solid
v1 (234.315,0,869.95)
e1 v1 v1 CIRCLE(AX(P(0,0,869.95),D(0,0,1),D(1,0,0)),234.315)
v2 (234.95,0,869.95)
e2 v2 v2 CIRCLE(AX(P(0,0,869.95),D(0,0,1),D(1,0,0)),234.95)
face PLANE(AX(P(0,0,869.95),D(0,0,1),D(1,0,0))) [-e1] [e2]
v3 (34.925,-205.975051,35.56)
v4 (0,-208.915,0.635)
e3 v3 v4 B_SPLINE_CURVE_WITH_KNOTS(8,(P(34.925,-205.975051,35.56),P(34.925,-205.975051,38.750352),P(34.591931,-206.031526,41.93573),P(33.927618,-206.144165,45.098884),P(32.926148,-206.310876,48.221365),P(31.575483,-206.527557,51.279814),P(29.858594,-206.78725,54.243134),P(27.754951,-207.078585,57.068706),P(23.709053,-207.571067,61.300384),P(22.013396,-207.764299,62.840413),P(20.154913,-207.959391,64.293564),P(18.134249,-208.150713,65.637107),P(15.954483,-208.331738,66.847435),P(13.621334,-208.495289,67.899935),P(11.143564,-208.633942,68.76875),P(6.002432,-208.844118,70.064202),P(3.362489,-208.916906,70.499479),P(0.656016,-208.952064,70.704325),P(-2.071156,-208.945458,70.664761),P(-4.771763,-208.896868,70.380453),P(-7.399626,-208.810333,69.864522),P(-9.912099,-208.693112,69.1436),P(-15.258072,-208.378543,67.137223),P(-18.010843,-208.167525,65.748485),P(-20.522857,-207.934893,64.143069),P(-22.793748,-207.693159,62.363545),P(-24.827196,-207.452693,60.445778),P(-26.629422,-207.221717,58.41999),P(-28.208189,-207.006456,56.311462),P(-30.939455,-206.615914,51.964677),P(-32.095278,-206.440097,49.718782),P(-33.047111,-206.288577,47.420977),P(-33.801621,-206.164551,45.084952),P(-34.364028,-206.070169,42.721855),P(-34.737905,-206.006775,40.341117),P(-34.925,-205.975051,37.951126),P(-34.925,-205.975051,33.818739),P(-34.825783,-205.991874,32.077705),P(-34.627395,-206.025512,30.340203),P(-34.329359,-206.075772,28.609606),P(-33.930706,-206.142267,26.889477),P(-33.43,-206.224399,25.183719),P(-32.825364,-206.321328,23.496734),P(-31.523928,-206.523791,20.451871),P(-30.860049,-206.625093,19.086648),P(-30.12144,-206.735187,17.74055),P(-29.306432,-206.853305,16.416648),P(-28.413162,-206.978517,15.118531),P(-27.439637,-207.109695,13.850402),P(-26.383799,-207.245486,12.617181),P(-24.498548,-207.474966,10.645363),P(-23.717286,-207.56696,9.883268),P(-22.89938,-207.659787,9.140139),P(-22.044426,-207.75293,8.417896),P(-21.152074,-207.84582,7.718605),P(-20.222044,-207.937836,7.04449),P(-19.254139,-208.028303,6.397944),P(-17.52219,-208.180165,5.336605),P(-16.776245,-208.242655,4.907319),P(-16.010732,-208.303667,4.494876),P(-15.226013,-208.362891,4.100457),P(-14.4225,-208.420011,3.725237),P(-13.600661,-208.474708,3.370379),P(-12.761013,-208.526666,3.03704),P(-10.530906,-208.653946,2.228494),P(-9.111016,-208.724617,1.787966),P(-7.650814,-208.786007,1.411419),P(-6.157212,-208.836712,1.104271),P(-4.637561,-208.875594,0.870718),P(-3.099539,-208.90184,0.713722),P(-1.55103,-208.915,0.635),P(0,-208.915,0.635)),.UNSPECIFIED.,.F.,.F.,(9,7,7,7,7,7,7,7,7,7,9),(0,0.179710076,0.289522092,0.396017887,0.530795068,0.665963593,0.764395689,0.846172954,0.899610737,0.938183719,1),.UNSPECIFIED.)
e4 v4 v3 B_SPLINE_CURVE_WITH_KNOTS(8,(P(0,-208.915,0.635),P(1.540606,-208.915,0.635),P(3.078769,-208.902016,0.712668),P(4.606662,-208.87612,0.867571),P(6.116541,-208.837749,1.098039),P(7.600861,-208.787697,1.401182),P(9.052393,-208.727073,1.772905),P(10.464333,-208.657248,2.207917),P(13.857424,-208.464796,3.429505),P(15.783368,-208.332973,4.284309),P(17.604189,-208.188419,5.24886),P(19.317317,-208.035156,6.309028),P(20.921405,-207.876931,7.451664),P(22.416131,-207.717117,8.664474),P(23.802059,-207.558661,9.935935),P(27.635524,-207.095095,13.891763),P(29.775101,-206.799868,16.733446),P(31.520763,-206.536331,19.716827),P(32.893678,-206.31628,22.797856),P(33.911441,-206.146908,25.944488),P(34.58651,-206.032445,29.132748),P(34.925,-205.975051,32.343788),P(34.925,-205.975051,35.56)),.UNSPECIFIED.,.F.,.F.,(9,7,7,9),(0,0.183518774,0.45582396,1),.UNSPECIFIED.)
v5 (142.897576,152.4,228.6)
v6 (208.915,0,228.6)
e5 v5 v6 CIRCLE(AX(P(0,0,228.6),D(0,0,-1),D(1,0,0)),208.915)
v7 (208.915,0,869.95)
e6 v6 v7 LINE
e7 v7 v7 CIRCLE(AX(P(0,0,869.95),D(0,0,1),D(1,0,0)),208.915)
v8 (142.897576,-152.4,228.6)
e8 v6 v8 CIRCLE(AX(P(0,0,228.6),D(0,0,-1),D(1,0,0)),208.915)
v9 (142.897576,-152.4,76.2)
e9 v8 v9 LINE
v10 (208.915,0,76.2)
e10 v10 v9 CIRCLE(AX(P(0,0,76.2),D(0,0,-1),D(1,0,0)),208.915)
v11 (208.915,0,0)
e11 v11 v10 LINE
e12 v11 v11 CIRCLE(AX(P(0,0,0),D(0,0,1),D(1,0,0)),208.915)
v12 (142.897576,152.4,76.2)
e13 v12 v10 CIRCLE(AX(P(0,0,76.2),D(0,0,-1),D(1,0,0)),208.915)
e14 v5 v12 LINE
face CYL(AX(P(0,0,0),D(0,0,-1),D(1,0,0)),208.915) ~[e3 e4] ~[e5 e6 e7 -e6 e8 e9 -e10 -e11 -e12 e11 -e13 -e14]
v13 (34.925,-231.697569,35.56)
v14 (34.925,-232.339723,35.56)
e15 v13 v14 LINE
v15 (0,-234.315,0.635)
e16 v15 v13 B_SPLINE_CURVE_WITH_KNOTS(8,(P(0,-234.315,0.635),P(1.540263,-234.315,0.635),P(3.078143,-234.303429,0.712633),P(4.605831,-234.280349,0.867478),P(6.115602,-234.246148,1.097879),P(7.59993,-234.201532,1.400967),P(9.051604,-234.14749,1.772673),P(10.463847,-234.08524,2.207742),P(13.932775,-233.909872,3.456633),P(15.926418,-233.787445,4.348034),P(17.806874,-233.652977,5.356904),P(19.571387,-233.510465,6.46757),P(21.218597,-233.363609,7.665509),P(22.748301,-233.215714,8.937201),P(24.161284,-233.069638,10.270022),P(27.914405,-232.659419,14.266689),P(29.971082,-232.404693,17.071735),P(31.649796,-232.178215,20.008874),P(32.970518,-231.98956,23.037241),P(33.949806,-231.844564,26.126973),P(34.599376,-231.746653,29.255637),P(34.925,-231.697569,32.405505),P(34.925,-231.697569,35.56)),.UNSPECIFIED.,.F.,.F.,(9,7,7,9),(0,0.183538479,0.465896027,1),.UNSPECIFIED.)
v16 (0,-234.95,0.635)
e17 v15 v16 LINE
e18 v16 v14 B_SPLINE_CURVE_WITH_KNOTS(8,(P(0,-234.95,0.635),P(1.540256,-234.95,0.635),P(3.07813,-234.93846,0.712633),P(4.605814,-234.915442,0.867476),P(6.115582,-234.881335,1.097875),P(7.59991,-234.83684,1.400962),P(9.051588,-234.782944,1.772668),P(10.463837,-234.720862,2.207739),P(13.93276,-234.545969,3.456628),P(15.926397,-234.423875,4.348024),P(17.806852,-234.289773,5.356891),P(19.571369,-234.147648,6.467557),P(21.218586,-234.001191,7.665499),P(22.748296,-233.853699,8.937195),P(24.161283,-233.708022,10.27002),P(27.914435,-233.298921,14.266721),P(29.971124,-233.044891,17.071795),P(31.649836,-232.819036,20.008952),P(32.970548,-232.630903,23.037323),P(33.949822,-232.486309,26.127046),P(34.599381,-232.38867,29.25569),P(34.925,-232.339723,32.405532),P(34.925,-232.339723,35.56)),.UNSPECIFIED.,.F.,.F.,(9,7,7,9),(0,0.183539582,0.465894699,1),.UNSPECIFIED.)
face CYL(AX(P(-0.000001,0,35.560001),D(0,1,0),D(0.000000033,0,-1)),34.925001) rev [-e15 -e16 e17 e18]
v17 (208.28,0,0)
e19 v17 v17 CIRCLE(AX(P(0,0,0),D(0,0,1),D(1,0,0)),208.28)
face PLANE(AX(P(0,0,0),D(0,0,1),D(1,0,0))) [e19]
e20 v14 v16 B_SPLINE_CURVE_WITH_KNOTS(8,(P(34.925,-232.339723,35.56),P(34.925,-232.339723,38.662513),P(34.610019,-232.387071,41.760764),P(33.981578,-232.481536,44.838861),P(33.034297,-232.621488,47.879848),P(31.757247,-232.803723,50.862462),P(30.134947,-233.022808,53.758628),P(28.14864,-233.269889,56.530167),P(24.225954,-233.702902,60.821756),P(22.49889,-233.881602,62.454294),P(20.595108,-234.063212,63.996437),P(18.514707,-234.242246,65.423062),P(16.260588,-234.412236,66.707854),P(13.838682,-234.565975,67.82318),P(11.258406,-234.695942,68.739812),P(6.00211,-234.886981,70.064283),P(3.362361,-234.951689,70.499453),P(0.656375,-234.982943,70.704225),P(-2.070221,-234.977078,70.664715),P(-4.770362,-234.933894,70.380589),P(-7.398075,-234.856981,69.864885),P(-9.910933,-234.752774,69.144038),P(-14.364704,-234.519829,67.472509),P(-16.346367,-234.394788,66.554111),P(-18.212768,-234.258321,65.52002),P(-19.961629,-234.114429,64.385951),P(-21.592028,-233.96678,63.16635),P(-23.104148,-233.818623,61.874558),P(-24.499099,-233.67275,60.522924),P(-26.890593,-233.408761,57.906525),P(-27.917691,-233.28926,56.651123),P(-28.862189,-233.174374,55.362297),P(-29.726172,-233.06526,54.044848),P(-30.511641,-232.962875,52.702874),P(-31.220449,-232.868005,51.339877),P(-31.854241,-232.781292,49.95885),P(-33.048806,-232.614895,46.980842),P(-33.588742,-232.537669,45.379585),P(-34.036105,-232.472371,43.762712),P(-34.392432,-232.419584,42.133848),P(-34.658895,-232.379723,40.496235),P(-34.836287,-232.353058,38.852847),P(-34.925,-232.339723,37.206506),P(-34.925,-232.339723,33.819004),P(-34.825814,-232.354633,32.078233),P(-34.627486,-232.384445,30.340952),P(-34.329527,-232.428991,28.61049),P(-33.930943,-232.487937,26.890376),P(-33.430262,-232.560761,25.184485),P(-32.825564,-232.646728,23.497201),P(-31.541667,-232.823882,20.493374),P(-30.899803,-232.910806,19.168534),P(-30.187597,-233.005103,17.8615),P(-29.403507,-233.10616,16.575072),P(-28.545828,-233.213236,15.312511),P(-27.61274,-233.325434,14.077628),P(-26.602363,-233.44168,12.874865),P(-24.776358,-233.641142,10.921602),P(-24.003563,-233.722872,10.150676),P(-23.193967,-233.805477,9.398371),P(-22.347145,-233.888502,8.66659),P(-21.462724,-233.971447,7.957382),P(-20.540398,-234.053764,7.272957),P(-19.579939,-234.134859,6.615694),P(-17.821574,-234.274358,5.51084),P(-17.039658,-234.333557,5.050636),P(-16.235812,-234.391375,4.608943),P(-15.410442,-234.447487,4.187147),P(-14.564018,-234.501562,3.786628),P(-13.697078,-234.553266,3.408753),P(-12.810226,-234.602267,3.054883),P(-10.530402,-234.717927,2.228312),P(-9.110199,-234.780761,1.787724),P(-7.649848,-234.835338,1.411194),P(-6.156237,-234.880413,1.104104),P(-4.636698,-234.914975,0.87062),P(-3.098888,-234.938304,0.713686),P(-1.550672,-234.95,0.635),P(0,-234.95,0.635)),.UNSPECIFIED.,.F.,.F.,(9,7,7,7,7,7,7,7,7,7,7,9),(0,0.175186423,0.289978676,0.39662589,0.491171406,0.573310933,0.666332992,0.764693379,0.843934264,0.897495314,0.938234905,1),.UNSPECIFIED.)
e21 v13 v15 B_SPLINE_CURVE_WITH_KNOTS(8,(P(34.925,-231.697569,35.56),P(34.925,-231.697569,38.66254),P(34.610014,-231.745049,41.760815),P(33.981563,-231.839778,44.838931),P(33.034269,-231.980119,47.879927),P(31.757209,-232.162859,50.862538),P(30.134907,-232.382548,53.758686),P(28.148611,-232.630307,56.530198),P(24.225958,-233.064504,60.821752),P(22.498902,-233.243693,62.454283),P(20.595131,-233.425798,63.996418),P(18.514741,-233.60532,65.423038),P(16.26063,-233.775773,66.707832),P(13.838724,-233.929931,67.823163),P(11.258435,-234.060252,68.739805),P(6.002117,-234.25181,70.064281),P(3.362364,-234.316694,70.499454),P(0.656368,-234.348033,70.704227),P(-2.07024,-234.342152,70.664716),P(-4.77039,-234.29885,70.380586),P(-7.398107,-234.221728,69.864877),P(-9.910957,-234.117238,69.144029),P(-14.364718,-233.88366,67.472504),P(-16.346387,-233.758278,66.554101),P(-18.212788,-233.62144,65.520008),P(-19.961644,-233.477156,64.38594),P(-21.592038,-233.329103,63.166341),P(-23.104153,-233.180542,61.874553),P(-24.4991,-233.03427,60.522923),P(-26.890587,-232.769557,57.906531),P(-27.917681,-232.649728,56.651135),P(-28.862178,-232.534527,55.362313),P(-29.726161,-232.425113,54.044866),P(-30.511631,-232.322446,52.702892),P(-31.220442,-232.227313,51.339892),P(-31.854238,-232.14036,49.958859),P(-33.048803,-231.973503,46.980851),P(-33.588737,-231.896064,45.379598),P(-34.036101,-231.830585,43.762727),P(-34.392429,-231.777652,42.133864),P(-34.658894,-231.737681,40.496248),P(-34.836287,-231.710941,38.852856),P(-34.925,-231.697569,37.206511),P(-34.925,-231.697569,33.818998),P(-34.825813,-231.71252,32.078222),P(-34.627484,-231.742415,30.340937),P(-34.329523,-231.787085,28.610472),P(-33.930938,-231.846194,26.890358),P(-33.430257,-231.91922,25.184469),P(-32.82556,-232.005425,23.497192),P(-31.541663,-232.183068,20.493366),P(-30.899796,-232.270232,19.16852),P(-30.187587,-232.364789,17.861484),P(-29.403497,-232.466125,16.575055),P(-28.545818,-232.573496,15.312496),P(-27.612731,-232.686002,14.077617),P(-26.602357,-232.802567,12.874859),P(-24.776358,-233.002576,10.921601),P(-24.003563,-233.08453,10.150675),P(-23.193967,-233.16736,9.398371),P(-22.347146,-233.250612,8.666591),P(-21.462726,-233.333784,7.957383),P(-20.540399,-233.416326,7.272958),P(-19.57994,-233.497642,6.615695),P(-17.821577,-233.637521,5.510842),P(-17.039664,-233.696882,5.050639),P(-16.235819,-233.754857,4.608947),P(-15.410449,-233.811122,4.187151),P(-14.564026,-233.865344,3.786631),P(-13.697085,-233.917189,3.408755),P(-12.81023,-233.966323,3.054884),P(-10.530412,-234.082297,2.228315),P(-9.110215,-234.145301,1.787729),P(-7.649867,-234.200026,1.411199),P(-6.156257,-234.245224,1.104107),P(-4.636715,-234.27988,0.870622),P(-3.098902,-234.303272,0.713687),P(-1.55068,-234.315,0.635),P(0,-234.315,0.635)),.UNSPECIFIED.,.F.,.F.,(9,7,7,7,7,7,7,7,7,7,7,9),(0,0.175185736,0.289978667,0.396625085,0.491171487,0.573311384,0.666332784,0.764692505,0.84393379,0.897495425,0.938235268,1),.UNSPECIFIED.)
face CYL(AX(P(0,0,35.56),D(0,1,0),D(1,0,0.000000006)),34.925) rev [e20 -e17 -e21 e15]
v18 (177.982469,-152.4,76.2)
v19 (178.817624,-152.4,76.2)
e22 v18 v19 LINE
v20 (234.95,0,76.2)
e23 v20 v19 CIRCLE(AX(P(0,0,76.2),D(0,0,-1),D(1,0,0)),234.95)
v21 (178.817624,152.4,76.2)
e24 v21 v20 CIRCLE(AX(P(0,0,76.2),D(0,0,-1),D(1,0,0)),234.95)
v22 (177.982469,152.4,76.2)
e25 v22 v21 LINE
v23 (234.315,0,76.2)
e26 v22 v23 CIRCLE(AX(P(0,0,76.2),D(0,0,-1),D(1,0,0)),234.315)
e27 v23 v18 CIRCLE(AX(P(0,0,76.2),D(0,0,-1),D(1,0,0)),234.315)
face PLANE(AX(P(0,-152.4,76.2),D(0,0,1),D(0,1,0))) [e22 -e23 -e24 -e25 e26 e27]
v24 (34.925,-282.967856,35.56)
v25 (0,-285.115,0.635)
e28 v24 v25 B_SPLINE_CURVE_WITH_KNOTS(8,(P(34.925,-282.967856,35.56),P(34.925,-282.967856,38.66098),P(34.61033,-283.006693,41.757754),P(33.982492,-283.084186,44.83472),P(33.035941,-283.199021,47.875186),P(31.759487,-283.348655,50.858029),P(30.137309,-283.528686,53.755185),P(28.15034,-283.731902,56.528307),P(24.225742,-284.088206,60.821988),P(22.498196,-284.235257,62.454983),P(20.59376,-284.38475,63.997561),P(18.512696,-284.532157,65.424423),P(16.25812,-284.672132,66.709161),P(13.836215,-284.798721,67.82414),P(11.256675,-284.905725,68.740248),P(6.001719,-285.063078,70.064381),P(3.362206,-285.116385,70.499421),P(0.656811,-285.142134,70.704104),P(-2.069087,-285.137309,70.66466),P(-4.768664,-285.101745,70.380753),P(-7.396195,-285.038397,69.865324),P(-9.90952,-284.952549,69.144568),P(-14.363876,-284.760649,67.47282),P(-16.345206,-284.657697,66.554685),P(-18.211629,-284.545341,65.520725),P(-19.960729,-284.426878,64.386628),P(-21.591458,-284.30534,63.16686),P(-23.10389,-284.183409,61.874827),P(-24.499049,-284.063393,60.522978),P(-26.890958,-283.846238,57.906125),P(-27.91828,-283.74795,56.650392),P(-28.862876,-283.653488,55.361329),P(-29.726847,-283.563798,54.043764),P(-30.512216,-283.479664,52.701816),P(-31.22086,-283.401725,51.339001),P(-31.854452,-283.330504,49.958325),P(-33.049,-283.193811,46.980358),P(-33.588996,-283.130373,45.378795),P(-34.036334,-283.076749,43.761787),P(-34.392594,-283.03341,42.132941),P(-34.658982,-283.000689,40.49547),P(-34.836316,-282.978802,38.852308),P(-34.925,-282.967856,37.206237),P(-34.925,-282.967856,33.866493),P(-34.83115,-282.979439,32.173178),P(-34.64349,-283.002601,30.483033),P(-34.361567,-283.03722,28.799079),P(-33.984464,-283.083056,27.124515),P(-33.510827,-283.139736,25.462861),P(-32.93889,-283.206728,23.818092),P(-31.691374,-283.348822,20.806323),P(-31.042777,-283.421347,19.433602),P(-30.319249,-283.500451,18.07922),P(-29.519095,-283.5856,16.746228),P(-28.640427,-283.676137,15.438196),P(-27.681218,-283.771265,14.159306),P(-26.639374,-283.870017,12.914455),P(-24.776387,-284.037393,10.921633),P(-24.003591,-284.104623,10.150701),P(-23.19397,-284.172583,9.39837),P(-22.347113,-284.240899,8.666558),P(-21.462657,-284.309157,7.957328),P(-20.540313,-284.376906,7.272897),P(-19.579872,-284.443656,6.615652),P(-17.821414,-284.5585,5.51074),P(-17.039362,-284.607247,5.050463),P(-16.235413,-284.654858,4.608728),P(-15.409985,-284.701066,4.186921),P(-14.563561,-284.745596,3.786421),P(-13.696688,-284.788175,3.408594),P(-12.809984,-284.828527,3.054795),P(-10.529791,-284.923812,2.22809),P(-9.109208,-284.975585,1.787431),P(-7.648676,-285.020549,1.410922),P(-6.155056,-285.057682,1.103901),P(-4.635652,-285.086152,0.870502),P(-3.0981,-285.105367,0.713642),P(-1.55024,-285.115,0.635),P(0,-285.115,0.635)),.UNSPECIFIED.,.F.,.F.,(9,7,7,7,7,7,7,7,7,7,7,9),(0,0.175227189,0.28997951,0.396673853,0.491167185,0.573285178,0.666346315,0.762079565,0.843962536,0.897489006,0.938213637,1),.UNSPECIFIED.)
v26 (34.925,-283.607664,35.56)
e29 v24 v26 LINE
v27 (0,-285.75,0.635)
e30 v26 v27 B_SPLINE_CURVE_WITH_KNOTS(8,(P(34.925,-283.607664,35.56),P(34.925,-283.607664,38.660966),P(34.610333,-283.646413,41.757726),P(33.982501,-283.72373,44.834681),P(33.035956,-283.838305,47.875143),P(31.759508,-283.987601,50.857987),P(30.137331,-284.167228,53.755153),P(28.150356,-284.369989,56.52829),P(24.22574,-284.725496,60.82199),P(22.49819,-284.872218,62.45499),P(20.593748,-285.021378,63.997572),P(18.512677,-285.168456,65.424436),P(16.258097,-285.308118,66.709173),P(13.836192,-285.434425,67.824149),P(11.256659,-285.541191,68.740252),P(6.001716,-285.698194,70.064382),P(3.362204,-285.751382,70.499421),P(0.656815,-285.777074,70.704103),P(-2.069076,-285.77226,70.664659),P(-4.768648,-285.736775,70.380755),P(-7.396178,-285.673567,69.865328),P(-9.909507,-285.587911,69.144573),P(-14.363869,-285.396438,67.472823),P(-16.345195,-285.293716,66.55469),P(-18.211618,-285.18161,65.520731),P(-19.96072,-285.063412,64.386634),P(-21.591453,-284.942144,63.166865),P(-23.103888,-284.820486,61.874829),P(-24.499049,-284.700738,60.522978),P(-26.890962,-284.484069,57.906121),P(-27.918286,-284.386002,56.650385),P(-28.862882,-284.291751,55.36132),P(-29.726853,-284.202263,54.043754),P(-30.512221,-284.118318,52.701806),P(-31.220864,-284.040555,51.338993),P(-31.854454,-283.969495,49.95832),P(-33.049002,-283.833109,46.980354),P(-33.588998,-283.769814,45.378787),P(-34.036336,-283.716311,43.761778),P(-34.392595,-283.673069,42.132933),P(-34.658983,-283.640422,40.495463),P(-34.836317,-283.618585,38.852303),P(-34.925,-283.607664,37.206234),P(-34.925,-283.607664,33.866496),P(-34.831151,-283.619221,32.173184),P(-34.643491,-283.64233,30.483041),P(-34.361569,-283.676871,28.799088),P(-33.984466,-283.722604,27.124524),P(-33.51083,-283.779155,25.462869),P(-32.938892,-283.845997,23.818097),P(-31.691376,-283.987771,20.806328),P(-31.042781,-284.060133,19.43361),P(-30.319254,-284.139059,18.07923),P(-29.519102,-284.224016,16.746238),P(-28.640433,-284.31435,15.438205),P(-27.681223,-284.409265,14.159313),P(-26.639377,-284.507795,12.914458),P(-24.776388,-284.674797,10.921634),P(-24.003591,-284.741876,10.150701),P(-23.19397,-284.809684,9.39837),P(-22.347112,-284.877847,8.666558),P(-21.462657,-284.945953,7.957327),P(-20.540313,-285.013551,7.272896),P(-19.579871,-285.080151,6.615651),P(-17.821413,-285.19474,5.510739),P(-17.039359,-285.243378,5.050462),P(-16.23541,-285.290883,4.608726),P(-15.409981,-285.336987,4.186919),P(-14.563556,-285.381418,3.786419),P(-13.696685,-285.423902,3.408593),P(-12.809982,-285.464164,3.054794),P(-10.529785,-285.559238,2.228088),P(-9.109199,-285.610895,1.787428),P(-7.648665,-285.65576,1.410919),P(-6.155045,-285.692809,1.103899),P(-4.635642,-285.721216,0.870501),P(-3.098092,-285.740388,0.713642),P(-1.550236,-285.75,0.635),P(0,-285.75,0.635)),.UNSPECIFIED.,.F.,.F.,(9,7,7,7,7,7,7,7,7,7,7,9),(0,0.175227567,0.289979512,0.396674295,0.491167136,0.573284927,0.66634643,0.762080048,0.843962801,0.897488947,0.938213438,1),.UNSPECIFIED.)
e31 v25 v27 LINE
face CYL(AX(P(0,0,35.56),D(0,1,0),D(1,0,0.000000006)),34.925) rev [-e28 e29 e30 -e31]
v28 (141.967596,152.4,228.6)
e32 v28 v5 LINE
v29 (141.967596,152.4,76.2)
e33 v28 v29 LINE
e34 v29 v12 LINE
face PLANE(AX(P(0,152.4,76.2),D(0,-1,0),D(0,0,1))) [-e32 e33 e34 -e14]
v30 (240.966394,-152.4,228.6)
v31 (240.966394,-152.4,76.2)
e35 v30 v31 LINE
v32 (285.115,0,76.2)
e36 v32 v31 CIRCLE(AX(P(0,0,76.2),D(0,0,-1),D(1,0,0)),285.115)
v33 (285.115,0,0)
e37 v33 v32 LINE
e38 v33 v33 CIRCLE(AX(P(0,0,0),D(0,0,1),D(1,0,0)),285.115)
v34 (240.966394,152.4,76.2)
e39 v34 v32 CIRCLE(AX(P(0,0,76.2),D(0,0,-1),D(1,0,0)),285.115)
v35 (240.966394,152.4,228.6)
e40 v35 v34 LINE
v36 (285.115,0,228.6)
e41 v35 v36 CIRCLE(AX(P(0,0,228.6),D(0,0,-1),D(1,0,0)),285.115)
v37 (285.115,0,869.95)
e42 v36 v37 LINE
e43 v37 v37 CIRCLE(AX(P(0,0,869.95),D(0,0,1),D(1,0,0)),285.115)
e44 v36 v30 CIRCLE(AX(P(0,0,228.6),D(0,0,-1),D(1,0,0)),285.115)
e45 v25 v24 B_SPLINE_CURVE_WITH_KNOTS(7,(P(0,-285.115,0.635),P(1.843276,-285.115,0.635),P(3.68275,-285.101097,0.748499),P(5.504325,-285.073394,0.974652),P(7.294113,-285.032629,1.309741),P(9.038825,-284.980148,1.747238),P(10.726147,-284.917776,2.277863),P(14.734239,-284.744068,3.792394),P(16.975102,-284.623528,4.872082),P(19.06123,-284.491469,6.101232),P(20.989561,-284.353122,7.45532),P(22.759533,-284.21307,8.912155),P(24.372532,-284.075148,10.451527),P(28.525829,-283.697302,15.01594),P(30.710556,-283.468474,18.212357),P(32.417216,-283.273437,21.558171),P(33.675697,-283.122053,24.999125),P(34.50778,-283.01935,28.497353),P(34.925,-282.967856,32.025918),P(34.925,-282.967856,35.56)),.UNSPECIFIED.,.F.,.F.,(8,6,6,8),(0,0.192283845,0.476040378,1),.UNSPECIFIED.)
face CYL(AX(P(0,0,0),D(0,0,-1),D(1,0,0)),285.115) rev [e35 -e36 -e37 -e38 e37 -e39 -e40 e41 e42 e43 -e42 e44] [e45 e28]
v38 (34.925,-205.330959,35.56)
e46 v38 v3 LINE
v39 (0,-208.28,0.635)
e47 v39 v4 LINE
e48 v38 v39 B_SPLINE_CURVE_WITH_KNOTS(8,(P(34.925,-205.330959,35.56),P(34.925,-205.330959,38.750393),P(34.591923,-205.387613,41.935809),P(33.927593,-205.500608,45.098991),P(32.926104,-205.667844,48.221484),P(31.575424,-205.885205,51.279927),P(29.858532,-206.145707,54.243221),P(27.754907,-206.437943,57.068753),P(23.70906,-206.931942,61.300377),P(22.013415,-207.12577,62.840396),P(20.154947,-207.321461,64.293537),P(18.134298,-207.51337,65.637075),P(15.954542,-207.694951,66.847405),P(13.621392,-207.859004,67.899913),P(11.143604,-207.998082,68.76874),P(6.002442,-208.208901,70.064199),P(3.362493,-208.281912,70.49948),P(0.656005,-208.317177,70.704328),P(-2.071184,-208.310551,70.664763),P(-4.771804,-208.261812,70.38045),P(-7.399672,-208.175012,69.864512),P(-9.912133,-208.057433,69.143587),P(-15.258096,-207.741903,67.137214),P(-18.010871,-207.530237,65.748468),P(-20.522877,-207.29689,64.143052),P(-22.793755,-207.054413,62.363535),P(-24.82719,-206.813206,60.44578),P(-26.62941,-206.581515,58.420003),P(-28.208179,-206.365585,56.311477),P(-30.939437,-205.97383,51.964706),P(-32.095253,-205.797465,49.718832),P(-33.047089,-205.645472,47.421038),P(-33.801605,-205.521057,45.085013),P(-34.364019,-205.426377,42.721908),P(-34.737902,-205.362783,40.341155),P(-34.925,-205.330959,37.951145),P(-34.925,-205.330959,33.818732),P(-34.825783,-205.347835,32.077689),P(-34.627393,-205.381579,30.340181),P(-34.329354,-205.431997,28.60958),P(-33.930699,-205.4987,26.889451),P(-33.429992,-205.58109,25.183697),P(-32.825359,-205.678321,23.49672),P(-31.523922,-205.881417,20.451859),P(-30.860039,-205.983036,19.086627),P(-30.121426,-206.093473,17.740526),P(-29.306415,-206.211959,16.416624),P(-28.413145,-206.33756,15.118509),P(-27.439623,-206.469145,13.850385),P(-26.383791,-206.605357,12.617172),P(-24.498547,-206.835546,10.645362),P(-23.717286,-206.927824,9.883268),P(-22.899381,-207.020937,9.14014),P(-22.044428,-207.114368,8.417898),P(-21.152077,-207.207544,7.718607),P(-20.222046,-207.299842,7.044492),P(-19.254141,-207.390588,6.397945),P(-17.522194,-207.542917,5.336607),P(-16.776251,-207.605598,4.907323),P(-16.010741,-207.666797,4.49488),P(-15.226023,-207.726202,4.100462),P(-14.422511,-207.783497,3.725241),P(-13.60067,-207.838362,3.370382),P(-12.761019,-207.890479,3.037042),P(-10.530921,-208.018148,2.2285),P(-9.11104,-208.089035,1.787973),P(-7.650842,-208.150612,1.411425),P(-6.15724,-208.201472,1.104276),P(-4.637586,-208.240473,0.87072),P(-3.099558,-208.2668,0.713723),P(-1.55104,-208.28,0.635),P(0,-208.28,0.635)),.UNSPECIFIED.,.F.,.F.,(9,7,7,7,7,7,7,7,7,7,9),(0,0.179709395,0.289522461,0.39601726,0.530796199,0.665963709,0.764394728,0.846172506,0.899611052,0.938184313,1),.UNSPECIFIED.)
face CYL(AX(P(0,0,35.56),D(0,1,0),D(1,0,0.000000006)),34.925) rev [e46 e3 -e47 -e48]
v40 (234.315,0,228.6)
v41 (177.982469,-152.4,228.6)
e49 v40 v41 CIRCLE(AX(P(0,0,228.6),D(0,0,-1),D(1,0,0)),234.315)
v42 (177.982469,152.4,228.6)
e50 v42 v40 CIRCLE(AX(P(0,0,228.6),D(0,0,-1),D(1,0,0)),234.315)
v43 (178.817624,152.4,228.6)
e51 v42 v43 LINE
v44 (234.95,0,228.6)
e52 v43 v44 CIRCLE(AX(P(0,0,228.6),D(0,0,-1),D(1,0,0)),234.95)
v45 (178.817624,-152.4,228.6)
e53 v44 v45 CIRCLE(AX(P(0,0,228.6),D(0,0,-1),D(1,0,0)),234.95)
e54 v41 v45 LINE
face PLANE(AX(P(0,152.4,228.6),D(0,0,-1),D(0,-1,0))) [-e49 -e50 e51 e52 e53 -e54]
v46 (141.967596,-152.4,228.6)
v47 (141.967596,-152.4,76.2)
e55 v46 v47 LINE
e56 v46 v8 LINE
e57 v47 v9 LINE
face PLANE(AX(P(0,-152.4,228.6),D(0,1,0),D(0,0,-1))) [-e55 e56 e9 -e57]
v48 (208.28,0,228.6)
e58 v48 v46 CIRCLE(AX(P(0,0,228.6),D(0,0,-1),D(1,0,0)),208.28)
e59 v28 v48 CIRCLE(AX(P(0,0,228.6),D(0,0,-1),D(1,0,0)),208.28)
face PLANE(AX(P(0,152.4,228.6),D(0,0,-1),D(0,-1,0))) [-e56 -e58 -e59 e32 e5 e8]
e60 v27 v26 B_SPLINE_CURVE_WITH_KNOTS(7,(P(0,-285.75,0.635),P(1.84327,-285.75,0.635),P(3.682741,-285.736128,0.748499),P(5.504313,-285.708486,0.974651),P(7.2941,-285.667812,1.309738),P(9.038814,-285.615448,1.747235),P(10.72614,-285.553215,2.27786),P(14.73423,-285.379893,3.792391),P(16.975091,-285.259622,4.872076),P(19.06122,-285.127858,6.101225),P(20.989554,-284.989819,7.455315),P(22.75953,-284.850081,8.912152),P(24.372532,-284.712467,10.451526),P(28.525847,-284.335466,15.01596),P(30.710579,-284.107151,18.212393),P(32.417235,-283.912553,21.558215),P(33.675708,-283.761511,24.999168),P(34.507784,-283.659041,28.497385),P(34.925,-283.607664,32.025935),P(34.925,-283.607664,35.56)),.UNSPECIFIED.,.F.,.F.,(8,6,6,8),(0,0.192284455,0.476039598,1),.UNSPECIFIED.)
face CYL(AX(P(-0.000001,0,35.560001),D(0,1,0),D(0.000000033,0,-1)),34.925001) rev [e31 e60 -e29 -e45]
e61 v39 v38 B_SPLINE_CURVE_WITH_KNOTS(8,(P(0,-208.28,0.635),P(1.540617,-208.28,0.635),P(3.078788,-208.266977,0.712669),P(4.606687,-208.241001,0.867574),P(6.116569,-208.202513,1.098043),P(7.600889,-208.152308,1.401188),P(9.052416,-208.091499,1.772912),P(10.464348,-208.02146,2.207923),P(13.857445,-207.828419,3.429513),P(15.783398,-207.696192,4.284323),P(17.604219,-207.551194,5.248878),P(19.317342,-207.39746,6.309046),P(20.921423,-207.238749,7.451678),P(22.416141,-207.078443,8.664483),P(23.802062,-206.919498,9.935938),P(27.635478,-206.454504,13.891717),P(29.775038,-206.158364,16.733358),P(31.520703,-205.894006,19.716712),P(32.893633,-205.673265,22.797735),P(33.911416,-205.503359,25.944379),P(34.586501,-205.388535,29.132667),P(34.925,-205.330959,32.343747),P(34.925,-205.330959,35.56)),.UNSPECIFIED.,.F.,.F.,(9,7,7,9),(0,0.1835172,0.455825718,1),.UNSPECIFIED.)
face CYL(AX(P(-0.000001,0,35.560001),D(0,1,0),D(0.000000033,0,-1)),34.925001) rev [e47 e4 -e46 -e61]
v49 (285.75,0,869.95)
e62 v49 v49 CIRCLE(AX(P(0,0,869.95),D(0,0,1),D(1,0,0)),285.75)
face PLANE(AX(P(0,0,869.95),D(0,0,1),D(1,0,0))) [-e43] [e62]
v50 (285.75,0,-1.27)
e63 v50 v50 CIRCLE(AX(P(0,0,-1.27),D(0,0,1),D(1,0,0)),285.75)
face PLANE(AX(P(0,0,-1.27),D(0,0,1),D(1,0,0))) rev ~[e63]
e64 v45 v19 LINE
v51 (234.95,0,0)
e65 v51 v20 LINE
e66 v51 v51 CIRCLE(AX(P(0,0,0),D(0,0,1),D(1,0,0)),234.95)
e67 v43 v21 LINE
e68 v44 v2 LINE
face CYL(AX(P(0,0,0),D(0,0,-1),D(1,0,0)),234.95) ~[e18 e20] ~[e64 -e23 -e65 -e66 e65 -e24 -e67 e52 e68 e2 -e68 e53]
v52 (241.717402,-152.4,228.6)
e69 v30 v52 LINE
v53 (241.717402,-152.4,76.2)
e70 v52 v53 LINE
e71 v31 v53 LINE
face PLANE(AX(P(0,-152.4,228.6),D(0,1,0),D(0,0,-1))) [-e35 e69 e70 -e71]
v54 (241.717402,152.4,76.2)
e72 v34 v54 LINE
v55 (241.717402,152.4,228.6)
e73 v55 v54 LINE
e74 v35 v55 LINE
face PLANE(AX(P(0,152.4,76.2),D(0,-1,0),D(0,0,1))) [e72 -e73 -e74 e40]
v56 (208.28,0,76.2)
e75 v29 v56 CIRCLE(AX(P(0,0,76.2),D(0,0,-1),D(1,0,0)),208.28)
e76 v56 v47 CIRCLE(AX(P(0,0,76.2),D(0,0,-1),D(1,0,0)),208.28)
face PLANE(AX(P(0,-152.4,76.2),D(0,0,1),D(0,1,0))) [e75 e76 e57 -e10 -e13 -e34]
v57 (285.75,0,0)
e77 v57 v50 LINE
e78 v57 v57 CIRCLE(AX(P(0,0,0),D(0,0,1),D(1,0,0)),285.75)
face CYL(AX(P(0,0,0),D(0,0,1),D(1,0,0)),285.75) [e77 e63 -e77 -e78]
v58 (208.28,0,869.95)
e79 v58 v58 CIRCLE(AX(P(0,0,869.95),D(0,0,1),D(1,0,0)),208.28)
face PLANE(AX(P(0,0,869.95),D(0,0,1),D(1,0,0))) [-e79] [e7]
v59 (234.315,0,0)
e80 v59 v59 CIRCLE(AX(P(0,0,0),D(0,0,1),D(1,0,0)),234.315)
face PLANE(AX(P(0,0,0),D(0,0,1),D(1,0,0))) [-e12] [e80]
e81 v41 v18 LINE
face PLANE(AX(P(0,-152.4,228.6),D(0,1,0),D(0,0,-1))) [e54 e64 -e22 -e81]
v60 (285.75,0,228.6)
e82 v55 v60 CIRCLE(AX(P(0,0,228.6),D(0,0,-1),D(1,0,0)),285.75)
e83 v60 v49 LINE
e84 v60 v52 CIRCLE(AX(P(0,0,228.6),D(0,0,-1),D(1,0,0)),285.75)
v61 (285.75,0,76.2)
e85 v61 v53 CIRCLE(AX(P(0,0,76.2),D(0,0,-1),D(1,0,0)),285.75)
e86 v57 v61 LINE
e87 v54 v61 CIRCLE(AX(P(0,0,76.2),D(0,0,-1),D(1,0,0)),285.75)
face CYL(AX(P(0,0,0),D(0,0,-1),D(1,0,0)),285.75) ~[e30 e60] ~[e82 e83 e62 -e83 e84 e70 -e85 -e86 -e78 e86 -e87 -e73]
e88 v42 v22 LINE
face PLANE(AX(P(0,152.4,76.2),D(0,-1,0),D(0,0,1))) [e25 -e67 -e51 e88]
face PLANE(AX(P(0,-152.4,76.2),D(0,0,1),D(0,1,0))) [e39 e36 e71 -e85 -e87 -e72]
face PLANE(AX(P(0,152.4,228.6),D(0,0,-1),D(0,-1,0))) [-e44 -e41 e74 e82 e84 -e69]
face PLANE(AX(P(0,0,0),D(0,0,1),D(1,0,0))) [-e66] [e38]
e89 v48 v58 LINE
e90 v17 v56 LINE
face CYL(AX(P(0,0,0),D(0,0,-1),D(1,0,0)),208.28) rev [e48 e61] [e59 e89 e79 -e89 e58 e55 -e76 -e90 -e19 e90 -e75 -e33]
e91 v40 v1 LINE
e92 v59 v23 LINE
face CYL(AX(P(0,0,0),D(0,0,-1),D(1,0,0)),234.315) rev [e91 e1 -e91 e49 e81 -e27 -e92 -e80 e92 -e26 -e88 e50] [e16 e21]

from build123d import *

# Parameters (mm, degrees)
F0_R      = 285.75
F1_DEPTH  = 1.27
F2_R      = 285.75
F2_R_2    = 285.115
F3_DEPTH  = 869.95
F4_R      = 234.95
F4_R_2    = 234.315
F5_DEPTH  = 869.95
F6_R      = 208.915
F6_R_2    = 208.28
F7_DEPTH  = 869.95
F9_DEPTH  = 285.751
F11_DEPTH = 304.8


with BuildPart() as f1:
    # F0 (on Top) → F1 (new body)
    with BuildSketch(Plane.XY):
        Circle(F0_R)
    extrude(amount=-F1_DEPTH)

    # F2 (on face) → F3 (join)
    with BuildSketch(Plane.XY):
        Circle(F2_R)
        Circle(F2_R_2, mode=Mode.SUBTRACT)
    extrude(amount=F3_DEPTH)

    # F4 (on face) → F5 (join)
    with BuildSketch(Plane.XY):
        Circle(F4_R)
        Circle(F4_R_2, mode=Mode.SUBTRACT)
    extrude(amount=F5_DEPTH)

    # F6 (on face) → F7 (join)
    with BuildSketch(Plane.XY):
        Circle(F6_R)
        Circle(F6_R_2, mode=Mode.SUBTRACT)
    extrude(amount=F7_DEPTH)

    # F8 (on Front) → F9 (cut, through all)
    with BuildSketch(Plane.XZ):
        with BuildLine():
            ThreePointArc((0, 0.635), (24.695704, 10.864296), (34.925, 35.56))
            ThreePointArc((34.925, 35.56), (-24.695704, 60.255704), (0, 0.635))
        make_face()
    extrude(amount=F9_DEPTH, mode=Mode.SUBTRACT)

    # F10 (on Right) → F11 (cut)
    with BuildSketch(Plane.YZ):
        Polygon((-152.4, 76.2), (0, 76.2), (152.4, 76.2), (152.4, 228.6), (-152.4, 228.6), align=None)
    extrude(amount=F11_DEPTH, mode=Mode.SUBTRACT)


solid = f1.part
